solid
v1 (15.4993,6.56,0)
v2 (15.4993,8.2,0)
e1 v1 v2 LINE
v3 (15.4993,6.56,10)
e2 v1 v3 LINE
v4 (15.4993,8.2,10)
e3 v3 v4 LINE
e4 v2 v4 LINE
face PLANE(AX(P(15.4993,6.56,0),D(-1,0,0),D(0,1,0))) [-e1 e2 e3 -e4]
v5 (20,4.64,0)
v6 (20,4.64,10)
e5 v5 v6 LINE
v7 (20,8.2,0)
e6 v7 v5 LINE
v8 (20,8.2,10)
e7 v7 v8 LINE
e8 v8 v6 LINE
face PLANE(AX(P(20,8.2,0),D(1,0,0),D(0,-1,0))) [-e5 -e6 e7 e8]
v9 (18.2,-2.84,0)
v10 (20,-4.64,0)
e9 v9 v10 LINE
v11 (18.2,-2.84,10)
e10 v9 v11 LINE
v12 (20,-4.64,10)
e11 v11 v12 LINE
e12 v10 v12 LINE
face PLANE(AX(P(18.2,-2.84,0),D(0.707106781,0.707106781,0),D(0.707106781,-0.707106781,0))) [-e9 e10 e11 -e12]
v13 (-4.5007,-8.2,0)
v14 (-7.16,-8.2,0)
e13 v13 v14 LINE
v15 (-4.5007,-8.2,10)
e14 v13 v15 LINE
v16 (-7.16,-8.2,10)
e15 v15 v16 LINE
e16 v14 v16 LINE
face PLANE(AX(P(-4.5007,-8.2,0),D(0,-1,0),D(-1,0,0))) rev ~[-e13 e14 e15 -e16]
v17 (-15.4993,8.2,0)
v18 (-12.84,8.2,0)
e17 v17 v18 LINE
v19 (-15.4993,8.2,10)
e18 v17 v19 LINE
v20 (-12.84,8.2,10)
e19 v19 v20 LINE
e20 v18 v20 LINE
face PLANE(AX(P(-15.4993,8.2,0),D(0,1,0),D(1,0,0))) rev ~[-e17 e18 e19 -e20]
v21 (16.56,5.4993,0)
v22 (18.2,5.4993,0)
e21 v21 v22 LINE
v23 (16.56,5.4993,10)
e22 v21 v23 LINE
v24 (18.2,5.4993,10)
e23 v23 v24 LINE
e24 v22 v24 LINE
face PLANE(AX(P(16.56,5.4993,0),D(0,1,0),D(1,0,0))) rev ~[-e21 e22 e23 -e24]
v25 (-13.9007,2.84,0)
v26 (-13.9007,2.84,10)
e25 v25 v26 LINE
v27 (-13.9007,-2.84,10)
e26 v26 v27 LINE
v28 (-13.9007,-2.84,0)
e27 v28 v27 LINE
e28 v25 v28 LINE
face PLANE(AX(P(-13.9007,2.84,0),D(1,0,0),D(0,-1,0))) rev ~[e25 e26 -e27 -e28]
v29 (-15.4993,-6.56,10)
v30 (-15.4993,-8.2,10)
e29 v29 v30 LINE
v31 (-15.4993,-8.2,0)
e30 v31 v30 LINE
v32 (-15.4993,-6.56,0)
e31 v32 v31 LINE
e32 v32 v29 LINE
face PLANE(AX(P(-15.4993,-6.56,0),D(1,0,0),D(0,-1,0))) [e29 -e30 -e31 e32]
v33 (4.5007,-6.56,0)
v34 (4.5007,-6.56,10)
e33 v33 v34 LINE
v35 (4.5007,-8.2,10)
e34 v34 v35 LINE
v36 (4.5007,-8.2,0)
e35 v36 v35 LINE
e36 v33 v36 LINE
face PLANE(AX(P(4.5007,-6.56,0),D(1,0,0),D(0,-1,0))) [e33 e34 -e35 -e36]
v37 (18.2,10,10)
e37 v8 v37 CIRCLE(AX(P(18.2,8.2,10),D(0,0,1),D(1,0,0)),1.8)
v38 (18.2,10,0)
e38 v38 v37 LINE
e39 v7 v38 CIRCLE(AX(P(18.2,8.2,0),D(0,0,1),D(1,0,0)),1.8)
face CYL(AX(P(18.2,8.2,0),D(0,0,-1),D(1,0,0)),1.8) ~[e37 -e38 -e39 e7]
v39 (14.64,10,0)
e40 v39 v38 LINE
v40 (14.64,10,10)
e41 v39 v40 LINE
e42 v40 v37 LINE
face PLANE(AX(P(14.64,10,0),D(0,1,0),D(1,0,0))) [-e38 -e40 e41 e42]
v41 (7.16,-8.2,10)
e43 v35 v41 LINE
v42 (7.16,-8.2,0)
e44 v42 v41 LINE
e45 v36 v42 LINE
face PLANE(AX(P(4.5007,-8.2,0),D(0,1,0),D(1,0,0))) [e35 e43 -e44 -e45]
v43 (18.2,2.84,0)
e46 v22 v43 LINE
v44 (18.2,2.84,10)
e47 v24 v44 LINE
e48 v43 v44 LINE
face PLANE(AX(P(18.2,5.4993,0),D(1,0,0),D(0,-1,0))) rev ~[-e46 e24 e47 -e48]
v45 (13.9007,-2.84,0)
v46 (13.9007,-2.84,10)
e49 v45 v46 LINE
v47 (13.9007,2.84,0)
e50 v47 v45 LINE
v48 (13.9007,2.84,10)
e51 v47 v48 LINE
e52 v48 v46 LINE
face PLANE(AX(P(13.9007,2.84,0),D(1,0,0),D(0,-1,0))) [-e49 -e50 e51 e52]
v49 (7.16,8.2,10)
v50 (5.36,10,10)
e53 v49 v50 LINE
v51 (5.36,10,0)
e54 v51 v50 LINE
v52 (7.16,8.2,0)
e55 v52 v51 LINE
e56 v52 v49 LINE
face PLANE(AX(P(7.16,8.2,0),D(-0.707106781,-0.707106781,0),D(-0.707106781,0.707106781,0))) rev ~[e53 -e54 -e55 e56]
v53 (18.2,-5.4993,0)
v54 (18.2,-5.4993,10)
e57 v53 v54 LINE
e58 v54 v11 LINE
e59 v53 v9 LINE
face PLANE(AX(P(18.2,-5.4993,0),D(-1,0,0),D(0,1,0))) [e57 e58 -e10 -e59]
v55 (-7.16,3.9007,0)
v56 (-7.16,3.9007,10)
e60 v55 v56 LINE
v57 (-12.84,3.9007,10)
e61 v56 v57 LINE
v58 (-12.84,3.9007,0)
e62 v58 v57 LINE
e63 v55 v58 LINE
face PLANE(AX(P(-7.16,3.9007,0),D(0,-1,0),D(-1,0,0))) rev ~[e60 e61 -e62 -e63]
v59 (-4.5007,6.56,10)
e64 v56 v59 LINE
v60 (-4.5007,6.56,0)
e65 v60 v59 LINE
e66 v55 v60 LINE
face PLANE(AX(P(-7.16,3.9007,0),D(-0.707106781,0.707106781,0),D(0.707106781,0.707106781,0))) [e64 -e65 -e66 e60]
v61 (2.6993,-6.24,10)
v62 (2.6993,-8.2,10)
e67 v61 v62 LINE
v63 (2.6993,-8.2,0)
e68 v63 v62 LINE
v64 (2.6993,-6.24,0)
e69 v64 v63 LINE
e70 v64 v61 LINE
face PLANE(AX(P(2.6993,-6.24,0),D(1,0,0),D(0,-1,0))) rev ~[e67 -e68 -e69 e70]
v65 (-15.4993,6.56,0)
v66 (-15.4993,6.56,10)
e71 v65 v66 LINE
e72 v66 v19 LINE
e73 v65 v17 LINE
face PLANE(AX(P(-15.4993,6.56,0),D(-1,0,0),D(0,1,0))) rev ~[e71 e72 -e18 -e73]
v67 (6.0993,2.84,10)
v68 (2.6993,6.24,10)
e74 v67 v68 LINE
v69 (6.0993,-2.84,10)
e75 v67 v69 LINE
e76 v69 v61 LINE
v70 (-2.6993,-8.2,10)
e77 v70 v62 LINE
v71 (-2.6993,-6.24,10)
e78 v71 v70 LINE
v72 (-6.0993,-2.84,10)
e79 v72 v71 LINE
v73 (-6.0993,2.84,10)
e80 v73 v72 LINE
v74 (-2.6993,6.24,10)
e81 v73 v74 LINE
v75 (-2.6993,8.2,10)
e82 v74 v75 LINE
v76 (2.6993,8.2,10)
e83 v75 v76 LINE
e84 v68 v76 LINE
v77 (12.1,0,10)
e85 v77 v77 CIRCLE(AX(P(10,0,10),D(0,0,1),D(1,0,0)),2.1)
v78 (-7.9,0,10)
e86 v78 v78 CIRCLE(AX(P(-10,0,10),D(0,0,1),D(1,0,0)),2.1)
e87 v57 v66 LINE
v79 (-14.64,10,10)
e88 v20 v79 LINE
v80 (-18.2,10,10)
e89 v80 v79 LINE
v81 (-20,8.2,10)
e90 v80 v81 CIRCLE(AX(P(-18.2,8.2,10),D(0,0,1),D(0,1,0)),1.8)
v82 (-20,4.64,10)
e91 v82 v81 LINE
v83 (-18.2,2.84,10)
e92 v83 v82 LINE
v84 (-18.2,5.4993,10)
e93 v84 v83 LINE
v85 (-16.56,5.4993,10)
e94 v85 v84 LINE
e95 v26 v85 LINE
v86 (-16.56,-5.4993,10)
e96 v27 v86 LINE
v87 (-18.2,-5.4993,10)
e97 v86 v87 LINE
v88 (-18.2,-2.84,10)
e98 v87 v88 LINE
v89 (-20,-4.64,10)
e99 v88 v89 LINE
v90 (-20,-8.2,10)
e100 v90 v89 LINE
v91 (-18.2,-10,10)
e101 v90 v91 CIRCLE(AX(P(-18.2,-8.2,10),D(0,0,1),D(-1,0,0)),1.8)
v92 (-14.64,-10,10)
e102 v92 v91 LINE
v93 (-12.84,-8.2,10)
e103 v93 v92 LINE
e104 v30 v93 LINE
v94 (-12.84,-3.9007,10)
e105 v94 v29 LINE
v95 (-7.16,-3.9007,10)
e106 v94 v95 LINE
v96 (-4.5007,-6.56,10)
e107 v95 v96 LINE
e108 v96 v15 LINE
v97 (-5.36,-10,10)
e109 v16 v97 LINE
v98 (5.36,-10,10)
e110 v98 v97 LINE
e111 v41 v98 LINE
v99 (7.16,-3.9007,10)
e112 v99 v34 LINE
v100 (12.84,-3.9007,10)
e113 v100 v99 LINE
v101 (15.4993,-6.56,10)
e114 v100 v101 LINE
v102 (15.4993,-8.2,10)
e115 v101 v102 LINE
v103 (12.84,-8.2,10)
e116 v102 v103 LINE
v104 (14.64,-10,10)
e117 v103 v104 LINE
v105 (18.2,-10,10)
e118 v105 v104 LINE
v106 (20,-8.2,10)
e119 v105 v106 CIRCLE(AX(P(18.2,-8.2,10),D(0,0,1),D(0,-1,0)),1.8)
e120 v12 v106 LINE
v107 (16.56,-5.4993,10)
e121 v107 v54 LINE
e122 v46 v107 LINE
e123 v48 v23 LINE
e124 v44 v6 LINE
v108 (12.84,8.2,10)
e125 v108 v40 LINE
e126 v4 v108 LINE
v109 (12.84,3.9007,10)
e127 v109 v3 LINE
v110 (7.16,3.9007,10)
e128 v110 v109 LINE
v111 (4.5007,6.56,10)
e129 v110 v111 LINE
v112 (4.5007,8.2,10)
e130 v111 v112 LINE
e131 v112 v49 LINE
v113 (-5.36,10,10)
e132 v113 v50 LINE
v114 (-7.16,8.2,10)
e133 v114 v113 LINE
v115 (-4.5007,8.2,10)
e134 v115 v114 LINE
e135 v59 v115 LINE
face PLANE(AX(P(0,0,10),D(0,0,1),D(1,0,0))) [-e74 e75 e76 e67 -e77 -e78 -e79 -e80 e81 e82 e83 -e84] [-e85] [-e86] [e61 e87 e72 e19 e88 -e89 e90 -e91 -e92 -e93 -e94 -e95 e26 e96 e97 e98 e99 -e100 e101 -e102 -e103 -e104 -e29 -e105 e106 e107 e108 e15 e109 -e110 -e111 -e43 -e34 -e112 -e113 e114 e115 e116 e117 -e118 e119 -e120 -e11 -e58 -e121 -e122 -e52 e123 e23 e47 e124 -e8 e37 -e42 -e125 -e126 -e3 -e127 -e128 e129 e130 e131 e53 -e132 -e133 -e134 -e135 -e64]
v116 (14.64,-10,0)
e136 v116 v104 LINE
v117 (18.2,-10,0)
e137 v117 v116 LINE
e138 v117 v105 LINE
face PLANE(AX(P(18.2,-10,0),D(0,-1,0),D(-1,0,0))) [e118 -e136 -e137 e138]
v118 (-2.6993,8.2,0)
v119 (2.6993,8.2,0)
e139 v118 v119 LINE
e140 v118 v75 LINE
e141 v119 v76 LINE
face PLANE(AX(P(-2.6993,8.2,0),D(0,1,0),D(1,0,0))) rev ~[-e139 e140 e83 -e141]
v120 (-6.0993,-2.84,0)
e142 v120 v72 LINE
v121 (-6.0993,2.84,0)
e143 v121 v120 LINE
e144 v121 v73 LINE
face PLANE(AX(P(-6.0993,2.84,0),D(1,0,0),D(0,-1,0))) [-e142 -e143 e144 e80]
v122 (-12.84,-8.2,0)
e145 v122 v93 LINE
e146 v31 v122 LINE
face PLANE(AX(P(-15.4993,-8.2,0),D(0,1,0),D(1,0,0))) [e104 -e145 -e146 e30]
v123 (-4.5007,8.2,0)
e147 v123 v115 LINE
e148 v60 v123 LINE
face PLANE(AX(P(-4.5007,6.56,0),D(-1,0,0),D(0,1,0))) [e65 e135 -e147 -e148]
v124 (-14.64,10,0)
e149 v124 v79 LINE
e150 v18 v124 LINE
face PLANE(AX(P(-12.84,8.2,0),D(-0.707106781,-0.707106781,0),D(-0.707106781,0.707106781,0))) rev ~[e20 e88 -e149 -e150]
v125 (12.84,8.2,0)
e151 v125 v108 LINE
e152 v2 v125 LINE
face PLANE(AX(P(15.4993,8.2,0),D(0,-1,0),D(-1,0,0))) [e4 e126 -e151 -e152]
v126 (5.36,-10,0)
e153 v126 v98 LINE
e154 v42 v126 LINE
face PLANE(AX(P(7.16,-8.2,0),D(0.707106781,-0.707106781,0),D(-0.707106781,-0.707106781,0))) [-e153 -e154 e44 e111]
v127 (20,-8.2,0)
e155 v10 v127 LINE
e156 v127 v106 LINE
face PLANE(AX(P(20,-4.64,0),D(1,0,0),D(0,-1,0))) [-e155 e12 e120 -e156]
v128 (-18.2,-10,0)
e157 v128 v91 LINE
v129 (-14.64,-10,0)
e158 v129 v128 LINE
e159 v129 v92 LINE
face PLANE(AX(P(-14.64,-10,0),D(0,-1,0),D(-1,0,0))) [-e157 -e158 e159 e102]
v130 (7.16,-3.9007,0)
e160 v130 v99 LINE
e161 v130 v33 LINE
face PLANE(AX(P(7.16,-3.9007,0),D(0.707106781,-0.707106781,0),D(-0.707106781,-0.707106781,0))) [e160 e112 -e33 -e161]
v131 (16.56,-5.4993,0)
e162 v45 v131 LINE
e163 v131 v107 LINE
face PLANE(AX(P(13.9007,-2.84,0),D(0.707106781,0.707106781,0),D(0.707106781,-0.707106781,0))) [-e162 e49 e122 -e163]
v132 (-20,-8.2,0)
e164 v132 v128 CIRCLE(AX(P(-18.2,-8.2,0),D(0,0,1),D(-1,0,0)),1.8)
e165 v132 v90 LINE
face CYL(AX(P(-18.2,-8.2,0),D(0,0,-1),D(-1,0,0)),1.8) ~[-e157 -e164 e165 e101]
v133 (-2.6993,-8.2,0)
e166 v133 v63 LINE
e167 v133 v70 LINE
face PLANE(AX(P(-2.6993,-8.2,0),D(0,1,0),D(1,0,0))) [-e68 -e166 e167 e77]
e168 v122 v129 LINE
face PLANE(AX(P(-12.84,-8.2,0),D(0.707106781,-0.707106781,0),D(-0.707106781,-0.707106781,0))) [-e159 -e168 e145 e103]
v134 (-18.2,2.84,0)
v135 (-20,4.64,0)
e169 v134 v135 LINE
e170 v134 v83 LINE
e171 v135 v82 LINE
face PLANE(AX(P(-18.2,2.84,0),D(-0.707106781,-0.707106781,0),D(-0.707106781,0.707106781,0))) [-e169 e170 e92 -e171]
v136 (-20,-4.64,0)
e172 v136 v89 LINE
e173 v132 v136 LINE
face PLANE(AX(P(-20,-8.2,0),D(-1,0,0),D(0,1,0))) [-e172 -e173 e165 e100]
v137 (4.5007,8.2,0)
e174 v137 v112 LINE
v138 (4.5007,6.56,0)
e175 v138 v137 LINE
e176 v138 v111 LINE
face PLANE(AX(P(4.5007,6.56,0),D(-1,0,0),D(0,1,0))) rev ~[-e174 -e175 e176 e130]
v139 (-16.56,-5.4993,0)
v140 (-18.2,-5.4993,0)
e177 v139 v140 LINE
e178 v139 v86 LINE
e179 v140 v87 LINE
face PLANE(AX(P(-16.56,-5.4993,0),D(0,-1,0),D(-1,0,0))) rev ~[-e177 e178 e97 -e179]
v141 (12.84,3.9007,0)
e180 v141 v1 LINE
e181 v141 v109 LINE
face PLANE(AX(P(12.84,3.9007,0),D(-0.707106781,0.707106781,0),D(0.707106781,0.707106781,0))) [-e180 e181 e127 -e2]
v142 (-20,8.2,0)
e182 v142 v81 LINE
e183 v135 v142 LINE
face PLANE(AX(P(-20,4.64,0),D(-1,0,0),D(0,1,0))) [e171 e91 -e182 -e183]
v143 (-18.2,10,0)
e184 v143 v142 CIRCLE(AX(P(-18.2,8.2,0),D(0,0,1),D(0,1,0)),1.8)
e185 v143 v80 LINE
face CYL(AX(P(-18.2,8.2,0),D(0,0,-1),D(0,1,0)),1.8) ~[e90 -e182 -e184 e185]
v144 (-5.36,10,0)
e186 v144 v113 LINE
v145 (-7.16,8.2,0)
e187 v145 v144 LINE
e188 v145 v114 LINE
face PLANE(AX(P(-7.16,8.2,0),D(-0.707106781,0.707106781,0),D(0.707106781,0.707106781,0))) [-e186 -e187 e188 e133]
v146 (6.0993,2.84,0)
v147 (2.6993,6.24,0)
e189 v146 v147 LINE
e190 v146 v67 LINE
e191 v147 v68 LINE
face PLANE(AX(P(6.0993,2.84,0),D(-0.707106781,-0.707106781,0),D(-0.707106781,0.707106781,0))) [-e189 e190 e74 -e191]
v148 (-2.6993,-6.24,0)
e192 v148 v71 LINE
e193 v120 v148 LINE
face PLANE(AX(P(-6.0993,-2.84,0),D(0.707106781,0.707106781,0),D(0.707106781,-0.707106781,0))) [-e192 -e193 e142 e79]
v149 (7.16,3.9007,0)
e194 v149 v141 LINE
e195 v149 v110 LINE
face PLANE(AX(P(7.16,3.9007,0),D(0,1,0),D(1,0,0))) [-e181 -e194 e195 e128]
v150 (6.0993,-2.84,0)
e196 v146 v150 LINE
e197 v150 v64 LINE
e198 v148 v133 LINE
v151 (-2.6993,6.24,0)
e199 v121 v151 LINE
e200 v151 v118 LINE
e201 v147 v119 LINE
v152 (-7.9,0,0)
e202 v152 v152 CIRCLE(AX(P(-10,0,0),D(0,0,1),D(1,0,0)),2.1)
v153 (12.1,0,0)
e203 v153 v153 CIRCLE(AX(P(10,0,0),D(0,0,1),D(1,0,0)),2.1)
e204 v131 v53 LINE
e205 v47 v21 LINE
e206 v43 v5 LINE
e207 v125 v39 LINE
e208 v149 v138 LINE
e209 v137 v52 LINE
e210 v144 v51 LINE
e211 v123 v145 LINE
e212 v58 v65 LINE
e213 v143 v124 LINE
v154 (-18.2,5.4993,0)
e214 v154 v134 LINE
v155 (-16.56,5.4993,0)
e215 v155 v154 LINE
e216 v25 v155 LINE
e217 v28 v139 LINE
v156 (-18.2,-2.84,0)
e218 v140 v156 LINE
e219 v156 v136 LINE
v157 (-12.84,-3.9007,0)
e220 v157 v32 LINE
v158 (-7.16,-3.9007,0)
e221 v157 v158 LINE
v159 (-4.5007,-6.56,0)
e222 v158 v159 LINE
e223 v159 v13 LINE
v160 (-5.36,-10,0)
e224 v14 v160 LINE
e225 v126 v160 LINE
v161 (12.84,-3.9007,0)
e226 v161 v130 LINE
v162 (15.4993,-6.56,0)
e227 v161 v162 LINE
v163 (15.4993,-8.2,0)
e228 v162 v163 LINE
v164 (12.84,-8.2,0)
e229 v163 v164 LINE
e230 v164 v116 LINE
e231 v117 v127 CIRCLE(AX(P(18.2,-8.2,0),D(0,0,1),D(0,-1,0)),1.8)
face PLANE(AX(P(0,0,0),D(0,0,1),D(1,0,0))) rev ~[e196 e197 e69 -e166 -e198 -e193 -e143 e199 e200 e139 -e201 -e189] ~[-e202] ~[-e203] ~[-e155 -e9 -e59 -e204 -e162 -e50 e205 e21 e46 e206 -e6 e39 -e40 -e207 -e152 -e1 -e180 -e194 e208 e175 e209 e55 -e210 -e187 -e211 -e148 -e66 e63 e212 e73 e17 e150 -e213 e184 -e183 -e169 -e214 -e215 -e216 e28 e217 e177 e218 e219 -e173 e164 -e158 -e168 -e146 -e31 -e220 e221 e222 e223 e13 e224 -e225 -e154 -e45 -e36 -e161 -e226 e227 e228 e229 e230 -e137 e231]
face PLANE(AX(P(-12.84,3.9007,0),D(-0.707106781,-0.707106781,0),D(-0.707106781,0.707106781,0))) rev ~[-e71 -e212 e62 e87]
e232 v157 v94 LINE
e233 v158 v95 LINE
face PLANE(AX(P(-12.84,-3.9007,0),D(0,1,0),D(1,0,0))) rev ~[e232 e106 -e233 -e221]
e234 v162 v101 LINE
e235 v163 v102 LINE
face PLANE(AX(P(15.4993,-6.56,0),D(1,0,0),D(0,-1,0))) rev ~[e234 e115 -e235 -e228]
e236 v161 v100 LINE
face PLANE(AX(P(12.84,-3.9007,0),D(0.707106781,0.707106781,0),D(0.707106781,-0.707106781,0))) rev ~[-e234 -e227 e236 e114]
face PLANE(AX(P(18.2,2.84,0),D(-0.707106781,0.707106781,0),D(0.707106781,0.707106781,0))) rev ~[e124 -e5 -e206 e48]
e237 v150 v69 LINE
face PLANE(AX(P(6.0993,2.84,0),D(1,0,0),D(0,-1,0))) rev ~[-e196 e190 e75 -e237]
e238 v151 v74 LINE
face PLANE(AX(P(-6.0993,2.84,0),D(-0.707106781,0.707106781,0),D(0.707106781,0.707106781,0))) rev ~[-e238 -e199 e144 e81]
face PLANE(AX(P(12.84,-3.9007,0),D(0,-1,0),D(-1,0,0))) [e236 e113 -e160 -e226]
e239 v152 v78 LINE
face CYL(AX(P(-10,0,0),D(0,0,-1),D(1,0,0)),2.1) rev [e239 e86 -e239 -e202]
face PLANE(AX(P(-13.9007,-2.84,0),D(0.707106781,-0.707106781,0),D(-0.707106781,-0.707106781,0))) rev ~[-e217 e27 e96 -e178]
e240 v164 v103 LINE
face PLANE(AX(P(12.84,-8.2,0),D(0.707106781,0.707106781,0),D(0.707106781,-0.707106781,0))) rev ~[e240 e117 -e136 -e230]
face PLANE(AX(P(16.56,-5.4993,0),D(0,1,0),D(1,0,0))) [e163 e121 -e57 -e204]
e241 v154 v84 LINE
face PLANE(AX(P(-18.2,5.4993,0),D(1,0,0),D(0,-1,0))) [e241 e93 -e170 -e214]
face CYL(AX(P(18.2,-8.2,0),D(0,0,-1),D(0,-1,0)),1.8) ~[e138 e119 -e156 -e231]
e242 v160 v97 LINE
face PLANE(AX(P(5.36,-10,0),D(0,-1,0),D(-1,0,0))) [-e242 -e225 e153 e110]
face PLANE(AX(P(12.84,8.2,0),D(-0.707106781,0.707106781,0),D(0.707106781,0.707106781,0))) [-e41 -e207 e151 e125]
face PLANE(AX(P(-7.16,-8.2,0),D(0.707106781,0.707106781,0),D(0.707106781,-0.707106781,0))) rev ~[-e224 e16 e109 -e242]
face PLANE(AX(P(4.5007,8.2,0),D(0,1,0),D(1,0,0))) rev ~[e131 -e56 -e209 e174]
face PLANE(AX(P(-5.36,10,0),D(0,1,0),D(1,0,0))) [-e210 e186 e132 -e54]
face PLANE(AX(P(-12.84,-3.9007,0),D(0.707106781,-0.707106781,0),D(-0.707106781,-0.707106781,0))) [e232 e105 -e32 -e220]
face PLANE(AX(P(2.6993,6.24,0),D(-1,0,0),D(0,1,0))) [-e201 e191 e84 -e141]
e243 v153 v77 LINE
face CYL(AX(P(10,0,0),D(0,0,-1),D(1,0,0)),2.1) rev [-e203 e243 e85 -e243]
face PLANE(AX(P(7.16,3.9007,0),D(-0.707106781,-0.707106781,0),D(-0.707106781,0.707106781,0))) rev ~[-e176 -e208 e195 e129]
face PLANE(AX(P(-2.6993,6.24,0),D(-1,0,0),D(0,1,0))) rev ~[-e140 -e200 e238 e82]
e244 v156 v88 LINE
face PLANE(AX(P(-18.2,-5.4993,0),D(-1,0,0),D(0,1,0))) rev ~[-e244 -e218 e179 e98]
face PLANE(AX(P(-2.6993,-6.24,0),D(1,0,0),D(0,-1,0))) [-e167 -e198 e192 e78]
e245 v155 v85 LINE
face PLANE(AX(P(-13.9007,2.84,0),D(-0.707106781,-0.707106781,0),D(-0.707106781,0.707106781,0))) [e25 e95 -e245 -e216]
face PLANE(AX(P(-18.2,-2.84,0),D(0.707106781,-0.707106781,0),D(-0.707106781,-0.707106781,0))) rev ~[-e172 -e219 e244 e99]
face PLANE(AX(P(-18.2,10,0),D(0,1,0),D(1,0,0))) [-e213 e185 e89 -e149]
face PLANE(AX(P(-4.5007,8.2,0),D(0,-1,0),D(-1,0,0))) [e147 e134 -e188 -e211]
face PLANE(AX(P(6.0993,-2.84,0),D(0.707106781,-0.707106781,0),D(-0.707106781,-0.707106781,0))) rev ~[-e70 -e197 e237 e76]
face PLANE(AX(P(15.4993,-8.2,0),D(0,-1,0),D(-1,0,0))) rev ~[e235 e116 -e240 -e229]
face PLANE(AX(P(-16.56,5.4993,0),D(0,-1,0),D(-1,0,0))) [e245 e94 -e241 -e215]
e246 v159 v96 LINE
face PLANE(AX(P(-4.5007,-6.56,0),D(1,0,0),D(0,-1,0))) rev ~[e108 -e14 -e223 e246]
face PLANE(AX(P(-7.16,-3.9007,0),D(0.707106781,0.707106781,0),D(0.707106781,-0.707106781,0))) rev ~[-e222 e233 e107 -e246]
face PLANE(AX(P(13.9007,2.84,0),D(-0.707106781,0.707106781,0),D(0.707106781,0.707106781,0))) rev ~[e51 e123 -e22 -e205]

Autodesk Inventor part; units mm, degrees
ref_plane "YZ Plane" through (0, 0, 0) normal (1, 0, 0) x (0, 1, 0)
ref_plane "Start Plane" through (0, 0, 0) normal (0, 0, 1) x (1, 0, 0)
ref_plane "End Plane" through (0, 0, 10) normal (0, 0, 1) x (1, 0, 0)
sketch "Sketch3" plane through (0, 0, 0) normal (0, 0, 1) x (1, 0, 0)
  line L0 (0, 0) -> (0, 10) construction
  line L1 (-10, 10) -> (-10, 0) construction
  line L2 (0, 0) -> (-10, 0) construction
  circle A0 centre (-10, 0) radius 2.1
  line L3 (-13.9007, 3.9007) -> (-6.0993, 3.9007) construction
  line L4 (-6.0993, 3.9007) -> (-6.0993, -3.9007) construction
  line L5 (-6.0993, -3.9007) -> (-13.9007, -3.9007) construction
  line L6 (-13.9007, -3.9007) -> (-13.9007, 3.9007) construction
  line L7 (-13.9007, 3.9007) -> (-6.0993, -3.9007) construction
  line L8 (-6.0993, 3.9007) -> (-13.9007, -3.9007) construction
  line L9 (-13.9007, -2.84) -> (-12.84, -3.9007) construction
  line L10 (-13.9007, -2.84) -> (-12.4007, -2.84) construction
  line L11 (-12.84, -3.9007) -> (-15.4993, -6.56)
  line L12 (-15.4993, -6.56) -> (-15.4993, -8.2)
  line L13 (-15.4993, -8.2) -> (-12.84, -8.2)
  line L14 (-12.84, -8.2) -> (-14.64, -10)
  line L15 (-7.16, -3.9007) -> (-4.5007, -6.56)
  line L16 (-4.5007, -6.56) -> (-4.5007, -8.2)
  line L17 (-4.5007, -8.2) -> (-7.16, -8.2)
  line L18 (-7.16, -8.2) -> (-5.36, -10)
  line L19 (-12.84, -3.9007) -> (-7.16, -3.9007)
  line L20 (-12.84, 3.9007) -> (-13.9007, 2.84) construction
  line L21 (-12.84, 3.9007) -> (-12.84, 2.4007) construction
  line L22 (-13.9007, 2.84) -> (-16.56, 5.4993)
  line L23 (-16.56, 5.4993) -> (-18.2, 5.4993)
  line L24 (-18.2, 5.4993) -> (-18.2, 2.84)
  line L25 (-18.2, 2.84) -> (-20, 4.64)
  line L26 (-18.2, -2.84) -> (-20, -4.64)
  line L27 (-18.2, -5.4993) -> (-18.2, -2.84)
  line L28 (-16.56, -5.4993) -> (-18.2, -5.4993)
  line L29 (-13.9007, -2.84) -> (-16.56, -5.4993)
  line L30 (-13.9007, 2.84) -> (-13.9007, -2.84)
  line L31 (-6.0993, 2.84) -> (-7.16, 3.9007) construction
  line L32 (-6.0993, 2.84) -> (-7.5993, 2.84) construction
  line L33 (-7.16, 3.9007) -> (-4.5007, 6.56)
  line L34 (-4.5007, 6.56) -> (-4.5007, 8.2)
  line L35 (-4.5007, 8.2) -> (-7.16, 8.2)
  line L36 (-7.16, 8.2) -> (-5.36, 10)
  line L37 (-12.84, 8.2) -> (-14.64, 10)
  line L38 (-15.4993, 8.2) -> (-12.84, 8.2)
  line L39 (-15.4993, 6.56) -> (-15.4993, 8.2)
  line L40 (-12.84, 3.9007) -> (-15.4993, 6.56)
  line L41 (-7.16, 3.9007) -> (-12.84, 3.9007)
  line L42 (-6.0993, 2.84) -> (-2.6993, 6.24)
  line L43 (-2.6993, 6.24) -> (-2.6993, 8.2)
  line L44 (-4.5007, 8.2) -> (0, 8.2) construction
  line L45 (-6.0993, -2.84) -> (-2.6993, -6.24)
  line L46 (-2.6993, -6.24) -> (-2.6993, -8.2)
  line L47 (10, 10) -> (10, 0) construction
  circle A1 centre (10, 0) radius 2.1
  line L48 (13.9007, 3.9007) -> (6.0993, -3.9007) construction
  line L49 (13.9007, -2.84) -> (12.84, -3.9007) construction
  line L50 (12.84, -3.9007) -> (15.4993, -6.56)
  line L51 (15.4993, -6.56) -> (15.4993, -8.2)
  line L52 (15.4993, -8.2) -> (12.84, -8.2)
  line L53 (12.84, -8.2) -> (14.64, -10)
  line L54 (7.16, -8.2) -> (5.36, -10)
  line L55 (4.5007, -8.2) -> (7.16, -8.2)
  line L56 (4.5007, -6.56) -> (4.5007, -8.2)
  line L57 (7.16, -3.9007) -> (4.5007, -6.56)
  line L58 (12.84, -3.9007) -> (7.16, -3.9007)
  line L59 (13.9007, 2.84) -> (13.9007, -2.84)
  line L60 (13.9007, 2.84) -> (16.56, 5.4993)
  line L61 (16.56, 5.4993) -> (18.2, 5.4993)
  line L62 (18.2, 5.4993) -> (18.2, 2.84)
  line L63 (18.2, 2.84) -> (20, 4.64)
  line L64 (18.2, -5.4993) -> (18.2, -2.84)
  line L65 (18.2, -2.84) -> (20, -4.64)
  line L66 (16.56, -5.4993) -> (18.2, -5.4993)
  line L67 (13.9007, -2.84) -> (16.56, -5.4993)
  line L68 (7.16, 3.9007) -> (12.84, 3.9007)
  line L69 (7.16, 3.9007) -> (4.5007, 6.56)
  line L70 (4.5007, 6.56) -> (4.5007, 8.2)
  line L71 (4.5007, 8.2) -> (7.16, 8.2)
  line L72 (7.16, 8.2) -> (5.36, 10)
  line L73 (15.4993, 8.2) -> (12.84, 8.2)
  line L74 (12.84, 8.2) -> (14.64, 10)
  line L75 (15.4993, 6.56) -> (15.4993, 8.2)
  line L76 (12.84, 3.9007) -> (15.4993, 6.56)
  line L77 (6.0993, 2.84) -> (2.6993, 6.24)
  line L78 (2.6993, 6.24) -> (2.6993, 8.2)
  line L79 (6.0993, -2.84) -> (2.6993, -6.24)
  line L80 (2.6993, -6.24) -> (2.6993, -8.2)
  line L81 (-14.64, -10) -> (-18.2, -10)
  line L82 (-20, -8.2) -> (-20, -4.64)
  line L83 (-20, 4.64) -> (-20, 8.2)
  line L84 (-18.2, 10) -> (-14.64, 10)
  line L85 (18.2, -10) -> (14.64, -10)
  line L86 (5.36, -10) -> (-5.36, -10)
  line L87 (-5.36, 10) -> (5.36, 10)
  line L88 (14.64, 10) -> (18.2, 10)
  line L89 (20, 8.2) -> (20, 4.64)
  line L90 (20, -4.64) -> (20, -8.2)
  line L91 (-2.6993, -8.2) -> (2.6993, -8.2)
  line L92 (-2.6993, 8.2) -> (2.6993, 8.2)
  line L93 (-6.0993, 2.84) -> (-6.0993, -2.84)
  line L94 (6.0993, 2.84) -> (6.0993, -2.84)
  arc A2 (-20, -8.2) -> (-18.2, -10) centre (-18.2, -8.2) ccw
  arc A3 (-18.2, 10) -> (-20, 8.2) centre (-18.2, 8.2) ccw
  arc A4 (18.2, -10) -> (20, -8.2) centre (18.2, -8.2) ccw
  arc A5 (20, 8.2) -> (18.2, 10) centre (18.2, 8.2) ccw
  point P0 (-13.9007, -3.9007)
  point P1 (-13.9007, 3.9007)
  point P2 (-13.9007, 3.9007)
  point P3 (-6.0993, 3.9007)
  point P4 (6.0993, 3.9007)
  point P5 (13.9007, -3.9007)
  point P6 (12.4007, -2.84)
  point P7 (13.9007, -3.9007)
  point P8 (13.9007, 3.9007)
  point P9 (12.84, 3.9007)
  point P10 (12.84, 2.4007)
  point P11 (13.9007, 3.9007)
  point P12 (6.0993, 3.9007)
  point P13 (7.5993, 2.84)
  point P14 (-20, 10)
  point P15 (20, -10)
  point P16 (20, 10)
  point P17 (-20, -10)
  dimension "d26" = 10
  dimension "d27" = 10
  dimension "d28" = 4.2
  dimension "d29" = 1.5
  dimension "d30" = 45
  dimension "d32" = 45
  dimension "d33" = 1.64
  dimension "d34" = 1.8
  dimension "d35" = 10
  dimension "d36" = 5.68
  dimension "d39" = 180
  dimension "d41" = 1.96
  dimension "d42" = 5.68
  dimension "d45" = 1.8
extrude "Body" add sketch "Sketch3" along normal up to surface (10 mm away) from surface at 0
sketch "Sketch4" plane through (0, 0, 0) normal (0, 0, 1) x (1, 0, 0)
  line L0 (0, 0) -> (10, 0)
ref_plane "Work Plane3" through (0, 0, 0) normal (0, -1, 0) x (1, 0, 0)
sketch "Sketch5" plane through (0, 0, 0) normal (0, -1, 0) x (1, 0, 0)
  line L0 (-28, 0) -> (28, 0)
  line L1 (-28, 10) -> (28, 10)
  dimension "d51" = 10
equation "\"d42\" = d36"
equation "\"G_OFFSET_START\" = 0"
equation "\"G_OFFSET_END\" = 0"
equation "\"G_L\" = d51"
properties part number "vslot 20 x 40" material "Aluminum 6061"
